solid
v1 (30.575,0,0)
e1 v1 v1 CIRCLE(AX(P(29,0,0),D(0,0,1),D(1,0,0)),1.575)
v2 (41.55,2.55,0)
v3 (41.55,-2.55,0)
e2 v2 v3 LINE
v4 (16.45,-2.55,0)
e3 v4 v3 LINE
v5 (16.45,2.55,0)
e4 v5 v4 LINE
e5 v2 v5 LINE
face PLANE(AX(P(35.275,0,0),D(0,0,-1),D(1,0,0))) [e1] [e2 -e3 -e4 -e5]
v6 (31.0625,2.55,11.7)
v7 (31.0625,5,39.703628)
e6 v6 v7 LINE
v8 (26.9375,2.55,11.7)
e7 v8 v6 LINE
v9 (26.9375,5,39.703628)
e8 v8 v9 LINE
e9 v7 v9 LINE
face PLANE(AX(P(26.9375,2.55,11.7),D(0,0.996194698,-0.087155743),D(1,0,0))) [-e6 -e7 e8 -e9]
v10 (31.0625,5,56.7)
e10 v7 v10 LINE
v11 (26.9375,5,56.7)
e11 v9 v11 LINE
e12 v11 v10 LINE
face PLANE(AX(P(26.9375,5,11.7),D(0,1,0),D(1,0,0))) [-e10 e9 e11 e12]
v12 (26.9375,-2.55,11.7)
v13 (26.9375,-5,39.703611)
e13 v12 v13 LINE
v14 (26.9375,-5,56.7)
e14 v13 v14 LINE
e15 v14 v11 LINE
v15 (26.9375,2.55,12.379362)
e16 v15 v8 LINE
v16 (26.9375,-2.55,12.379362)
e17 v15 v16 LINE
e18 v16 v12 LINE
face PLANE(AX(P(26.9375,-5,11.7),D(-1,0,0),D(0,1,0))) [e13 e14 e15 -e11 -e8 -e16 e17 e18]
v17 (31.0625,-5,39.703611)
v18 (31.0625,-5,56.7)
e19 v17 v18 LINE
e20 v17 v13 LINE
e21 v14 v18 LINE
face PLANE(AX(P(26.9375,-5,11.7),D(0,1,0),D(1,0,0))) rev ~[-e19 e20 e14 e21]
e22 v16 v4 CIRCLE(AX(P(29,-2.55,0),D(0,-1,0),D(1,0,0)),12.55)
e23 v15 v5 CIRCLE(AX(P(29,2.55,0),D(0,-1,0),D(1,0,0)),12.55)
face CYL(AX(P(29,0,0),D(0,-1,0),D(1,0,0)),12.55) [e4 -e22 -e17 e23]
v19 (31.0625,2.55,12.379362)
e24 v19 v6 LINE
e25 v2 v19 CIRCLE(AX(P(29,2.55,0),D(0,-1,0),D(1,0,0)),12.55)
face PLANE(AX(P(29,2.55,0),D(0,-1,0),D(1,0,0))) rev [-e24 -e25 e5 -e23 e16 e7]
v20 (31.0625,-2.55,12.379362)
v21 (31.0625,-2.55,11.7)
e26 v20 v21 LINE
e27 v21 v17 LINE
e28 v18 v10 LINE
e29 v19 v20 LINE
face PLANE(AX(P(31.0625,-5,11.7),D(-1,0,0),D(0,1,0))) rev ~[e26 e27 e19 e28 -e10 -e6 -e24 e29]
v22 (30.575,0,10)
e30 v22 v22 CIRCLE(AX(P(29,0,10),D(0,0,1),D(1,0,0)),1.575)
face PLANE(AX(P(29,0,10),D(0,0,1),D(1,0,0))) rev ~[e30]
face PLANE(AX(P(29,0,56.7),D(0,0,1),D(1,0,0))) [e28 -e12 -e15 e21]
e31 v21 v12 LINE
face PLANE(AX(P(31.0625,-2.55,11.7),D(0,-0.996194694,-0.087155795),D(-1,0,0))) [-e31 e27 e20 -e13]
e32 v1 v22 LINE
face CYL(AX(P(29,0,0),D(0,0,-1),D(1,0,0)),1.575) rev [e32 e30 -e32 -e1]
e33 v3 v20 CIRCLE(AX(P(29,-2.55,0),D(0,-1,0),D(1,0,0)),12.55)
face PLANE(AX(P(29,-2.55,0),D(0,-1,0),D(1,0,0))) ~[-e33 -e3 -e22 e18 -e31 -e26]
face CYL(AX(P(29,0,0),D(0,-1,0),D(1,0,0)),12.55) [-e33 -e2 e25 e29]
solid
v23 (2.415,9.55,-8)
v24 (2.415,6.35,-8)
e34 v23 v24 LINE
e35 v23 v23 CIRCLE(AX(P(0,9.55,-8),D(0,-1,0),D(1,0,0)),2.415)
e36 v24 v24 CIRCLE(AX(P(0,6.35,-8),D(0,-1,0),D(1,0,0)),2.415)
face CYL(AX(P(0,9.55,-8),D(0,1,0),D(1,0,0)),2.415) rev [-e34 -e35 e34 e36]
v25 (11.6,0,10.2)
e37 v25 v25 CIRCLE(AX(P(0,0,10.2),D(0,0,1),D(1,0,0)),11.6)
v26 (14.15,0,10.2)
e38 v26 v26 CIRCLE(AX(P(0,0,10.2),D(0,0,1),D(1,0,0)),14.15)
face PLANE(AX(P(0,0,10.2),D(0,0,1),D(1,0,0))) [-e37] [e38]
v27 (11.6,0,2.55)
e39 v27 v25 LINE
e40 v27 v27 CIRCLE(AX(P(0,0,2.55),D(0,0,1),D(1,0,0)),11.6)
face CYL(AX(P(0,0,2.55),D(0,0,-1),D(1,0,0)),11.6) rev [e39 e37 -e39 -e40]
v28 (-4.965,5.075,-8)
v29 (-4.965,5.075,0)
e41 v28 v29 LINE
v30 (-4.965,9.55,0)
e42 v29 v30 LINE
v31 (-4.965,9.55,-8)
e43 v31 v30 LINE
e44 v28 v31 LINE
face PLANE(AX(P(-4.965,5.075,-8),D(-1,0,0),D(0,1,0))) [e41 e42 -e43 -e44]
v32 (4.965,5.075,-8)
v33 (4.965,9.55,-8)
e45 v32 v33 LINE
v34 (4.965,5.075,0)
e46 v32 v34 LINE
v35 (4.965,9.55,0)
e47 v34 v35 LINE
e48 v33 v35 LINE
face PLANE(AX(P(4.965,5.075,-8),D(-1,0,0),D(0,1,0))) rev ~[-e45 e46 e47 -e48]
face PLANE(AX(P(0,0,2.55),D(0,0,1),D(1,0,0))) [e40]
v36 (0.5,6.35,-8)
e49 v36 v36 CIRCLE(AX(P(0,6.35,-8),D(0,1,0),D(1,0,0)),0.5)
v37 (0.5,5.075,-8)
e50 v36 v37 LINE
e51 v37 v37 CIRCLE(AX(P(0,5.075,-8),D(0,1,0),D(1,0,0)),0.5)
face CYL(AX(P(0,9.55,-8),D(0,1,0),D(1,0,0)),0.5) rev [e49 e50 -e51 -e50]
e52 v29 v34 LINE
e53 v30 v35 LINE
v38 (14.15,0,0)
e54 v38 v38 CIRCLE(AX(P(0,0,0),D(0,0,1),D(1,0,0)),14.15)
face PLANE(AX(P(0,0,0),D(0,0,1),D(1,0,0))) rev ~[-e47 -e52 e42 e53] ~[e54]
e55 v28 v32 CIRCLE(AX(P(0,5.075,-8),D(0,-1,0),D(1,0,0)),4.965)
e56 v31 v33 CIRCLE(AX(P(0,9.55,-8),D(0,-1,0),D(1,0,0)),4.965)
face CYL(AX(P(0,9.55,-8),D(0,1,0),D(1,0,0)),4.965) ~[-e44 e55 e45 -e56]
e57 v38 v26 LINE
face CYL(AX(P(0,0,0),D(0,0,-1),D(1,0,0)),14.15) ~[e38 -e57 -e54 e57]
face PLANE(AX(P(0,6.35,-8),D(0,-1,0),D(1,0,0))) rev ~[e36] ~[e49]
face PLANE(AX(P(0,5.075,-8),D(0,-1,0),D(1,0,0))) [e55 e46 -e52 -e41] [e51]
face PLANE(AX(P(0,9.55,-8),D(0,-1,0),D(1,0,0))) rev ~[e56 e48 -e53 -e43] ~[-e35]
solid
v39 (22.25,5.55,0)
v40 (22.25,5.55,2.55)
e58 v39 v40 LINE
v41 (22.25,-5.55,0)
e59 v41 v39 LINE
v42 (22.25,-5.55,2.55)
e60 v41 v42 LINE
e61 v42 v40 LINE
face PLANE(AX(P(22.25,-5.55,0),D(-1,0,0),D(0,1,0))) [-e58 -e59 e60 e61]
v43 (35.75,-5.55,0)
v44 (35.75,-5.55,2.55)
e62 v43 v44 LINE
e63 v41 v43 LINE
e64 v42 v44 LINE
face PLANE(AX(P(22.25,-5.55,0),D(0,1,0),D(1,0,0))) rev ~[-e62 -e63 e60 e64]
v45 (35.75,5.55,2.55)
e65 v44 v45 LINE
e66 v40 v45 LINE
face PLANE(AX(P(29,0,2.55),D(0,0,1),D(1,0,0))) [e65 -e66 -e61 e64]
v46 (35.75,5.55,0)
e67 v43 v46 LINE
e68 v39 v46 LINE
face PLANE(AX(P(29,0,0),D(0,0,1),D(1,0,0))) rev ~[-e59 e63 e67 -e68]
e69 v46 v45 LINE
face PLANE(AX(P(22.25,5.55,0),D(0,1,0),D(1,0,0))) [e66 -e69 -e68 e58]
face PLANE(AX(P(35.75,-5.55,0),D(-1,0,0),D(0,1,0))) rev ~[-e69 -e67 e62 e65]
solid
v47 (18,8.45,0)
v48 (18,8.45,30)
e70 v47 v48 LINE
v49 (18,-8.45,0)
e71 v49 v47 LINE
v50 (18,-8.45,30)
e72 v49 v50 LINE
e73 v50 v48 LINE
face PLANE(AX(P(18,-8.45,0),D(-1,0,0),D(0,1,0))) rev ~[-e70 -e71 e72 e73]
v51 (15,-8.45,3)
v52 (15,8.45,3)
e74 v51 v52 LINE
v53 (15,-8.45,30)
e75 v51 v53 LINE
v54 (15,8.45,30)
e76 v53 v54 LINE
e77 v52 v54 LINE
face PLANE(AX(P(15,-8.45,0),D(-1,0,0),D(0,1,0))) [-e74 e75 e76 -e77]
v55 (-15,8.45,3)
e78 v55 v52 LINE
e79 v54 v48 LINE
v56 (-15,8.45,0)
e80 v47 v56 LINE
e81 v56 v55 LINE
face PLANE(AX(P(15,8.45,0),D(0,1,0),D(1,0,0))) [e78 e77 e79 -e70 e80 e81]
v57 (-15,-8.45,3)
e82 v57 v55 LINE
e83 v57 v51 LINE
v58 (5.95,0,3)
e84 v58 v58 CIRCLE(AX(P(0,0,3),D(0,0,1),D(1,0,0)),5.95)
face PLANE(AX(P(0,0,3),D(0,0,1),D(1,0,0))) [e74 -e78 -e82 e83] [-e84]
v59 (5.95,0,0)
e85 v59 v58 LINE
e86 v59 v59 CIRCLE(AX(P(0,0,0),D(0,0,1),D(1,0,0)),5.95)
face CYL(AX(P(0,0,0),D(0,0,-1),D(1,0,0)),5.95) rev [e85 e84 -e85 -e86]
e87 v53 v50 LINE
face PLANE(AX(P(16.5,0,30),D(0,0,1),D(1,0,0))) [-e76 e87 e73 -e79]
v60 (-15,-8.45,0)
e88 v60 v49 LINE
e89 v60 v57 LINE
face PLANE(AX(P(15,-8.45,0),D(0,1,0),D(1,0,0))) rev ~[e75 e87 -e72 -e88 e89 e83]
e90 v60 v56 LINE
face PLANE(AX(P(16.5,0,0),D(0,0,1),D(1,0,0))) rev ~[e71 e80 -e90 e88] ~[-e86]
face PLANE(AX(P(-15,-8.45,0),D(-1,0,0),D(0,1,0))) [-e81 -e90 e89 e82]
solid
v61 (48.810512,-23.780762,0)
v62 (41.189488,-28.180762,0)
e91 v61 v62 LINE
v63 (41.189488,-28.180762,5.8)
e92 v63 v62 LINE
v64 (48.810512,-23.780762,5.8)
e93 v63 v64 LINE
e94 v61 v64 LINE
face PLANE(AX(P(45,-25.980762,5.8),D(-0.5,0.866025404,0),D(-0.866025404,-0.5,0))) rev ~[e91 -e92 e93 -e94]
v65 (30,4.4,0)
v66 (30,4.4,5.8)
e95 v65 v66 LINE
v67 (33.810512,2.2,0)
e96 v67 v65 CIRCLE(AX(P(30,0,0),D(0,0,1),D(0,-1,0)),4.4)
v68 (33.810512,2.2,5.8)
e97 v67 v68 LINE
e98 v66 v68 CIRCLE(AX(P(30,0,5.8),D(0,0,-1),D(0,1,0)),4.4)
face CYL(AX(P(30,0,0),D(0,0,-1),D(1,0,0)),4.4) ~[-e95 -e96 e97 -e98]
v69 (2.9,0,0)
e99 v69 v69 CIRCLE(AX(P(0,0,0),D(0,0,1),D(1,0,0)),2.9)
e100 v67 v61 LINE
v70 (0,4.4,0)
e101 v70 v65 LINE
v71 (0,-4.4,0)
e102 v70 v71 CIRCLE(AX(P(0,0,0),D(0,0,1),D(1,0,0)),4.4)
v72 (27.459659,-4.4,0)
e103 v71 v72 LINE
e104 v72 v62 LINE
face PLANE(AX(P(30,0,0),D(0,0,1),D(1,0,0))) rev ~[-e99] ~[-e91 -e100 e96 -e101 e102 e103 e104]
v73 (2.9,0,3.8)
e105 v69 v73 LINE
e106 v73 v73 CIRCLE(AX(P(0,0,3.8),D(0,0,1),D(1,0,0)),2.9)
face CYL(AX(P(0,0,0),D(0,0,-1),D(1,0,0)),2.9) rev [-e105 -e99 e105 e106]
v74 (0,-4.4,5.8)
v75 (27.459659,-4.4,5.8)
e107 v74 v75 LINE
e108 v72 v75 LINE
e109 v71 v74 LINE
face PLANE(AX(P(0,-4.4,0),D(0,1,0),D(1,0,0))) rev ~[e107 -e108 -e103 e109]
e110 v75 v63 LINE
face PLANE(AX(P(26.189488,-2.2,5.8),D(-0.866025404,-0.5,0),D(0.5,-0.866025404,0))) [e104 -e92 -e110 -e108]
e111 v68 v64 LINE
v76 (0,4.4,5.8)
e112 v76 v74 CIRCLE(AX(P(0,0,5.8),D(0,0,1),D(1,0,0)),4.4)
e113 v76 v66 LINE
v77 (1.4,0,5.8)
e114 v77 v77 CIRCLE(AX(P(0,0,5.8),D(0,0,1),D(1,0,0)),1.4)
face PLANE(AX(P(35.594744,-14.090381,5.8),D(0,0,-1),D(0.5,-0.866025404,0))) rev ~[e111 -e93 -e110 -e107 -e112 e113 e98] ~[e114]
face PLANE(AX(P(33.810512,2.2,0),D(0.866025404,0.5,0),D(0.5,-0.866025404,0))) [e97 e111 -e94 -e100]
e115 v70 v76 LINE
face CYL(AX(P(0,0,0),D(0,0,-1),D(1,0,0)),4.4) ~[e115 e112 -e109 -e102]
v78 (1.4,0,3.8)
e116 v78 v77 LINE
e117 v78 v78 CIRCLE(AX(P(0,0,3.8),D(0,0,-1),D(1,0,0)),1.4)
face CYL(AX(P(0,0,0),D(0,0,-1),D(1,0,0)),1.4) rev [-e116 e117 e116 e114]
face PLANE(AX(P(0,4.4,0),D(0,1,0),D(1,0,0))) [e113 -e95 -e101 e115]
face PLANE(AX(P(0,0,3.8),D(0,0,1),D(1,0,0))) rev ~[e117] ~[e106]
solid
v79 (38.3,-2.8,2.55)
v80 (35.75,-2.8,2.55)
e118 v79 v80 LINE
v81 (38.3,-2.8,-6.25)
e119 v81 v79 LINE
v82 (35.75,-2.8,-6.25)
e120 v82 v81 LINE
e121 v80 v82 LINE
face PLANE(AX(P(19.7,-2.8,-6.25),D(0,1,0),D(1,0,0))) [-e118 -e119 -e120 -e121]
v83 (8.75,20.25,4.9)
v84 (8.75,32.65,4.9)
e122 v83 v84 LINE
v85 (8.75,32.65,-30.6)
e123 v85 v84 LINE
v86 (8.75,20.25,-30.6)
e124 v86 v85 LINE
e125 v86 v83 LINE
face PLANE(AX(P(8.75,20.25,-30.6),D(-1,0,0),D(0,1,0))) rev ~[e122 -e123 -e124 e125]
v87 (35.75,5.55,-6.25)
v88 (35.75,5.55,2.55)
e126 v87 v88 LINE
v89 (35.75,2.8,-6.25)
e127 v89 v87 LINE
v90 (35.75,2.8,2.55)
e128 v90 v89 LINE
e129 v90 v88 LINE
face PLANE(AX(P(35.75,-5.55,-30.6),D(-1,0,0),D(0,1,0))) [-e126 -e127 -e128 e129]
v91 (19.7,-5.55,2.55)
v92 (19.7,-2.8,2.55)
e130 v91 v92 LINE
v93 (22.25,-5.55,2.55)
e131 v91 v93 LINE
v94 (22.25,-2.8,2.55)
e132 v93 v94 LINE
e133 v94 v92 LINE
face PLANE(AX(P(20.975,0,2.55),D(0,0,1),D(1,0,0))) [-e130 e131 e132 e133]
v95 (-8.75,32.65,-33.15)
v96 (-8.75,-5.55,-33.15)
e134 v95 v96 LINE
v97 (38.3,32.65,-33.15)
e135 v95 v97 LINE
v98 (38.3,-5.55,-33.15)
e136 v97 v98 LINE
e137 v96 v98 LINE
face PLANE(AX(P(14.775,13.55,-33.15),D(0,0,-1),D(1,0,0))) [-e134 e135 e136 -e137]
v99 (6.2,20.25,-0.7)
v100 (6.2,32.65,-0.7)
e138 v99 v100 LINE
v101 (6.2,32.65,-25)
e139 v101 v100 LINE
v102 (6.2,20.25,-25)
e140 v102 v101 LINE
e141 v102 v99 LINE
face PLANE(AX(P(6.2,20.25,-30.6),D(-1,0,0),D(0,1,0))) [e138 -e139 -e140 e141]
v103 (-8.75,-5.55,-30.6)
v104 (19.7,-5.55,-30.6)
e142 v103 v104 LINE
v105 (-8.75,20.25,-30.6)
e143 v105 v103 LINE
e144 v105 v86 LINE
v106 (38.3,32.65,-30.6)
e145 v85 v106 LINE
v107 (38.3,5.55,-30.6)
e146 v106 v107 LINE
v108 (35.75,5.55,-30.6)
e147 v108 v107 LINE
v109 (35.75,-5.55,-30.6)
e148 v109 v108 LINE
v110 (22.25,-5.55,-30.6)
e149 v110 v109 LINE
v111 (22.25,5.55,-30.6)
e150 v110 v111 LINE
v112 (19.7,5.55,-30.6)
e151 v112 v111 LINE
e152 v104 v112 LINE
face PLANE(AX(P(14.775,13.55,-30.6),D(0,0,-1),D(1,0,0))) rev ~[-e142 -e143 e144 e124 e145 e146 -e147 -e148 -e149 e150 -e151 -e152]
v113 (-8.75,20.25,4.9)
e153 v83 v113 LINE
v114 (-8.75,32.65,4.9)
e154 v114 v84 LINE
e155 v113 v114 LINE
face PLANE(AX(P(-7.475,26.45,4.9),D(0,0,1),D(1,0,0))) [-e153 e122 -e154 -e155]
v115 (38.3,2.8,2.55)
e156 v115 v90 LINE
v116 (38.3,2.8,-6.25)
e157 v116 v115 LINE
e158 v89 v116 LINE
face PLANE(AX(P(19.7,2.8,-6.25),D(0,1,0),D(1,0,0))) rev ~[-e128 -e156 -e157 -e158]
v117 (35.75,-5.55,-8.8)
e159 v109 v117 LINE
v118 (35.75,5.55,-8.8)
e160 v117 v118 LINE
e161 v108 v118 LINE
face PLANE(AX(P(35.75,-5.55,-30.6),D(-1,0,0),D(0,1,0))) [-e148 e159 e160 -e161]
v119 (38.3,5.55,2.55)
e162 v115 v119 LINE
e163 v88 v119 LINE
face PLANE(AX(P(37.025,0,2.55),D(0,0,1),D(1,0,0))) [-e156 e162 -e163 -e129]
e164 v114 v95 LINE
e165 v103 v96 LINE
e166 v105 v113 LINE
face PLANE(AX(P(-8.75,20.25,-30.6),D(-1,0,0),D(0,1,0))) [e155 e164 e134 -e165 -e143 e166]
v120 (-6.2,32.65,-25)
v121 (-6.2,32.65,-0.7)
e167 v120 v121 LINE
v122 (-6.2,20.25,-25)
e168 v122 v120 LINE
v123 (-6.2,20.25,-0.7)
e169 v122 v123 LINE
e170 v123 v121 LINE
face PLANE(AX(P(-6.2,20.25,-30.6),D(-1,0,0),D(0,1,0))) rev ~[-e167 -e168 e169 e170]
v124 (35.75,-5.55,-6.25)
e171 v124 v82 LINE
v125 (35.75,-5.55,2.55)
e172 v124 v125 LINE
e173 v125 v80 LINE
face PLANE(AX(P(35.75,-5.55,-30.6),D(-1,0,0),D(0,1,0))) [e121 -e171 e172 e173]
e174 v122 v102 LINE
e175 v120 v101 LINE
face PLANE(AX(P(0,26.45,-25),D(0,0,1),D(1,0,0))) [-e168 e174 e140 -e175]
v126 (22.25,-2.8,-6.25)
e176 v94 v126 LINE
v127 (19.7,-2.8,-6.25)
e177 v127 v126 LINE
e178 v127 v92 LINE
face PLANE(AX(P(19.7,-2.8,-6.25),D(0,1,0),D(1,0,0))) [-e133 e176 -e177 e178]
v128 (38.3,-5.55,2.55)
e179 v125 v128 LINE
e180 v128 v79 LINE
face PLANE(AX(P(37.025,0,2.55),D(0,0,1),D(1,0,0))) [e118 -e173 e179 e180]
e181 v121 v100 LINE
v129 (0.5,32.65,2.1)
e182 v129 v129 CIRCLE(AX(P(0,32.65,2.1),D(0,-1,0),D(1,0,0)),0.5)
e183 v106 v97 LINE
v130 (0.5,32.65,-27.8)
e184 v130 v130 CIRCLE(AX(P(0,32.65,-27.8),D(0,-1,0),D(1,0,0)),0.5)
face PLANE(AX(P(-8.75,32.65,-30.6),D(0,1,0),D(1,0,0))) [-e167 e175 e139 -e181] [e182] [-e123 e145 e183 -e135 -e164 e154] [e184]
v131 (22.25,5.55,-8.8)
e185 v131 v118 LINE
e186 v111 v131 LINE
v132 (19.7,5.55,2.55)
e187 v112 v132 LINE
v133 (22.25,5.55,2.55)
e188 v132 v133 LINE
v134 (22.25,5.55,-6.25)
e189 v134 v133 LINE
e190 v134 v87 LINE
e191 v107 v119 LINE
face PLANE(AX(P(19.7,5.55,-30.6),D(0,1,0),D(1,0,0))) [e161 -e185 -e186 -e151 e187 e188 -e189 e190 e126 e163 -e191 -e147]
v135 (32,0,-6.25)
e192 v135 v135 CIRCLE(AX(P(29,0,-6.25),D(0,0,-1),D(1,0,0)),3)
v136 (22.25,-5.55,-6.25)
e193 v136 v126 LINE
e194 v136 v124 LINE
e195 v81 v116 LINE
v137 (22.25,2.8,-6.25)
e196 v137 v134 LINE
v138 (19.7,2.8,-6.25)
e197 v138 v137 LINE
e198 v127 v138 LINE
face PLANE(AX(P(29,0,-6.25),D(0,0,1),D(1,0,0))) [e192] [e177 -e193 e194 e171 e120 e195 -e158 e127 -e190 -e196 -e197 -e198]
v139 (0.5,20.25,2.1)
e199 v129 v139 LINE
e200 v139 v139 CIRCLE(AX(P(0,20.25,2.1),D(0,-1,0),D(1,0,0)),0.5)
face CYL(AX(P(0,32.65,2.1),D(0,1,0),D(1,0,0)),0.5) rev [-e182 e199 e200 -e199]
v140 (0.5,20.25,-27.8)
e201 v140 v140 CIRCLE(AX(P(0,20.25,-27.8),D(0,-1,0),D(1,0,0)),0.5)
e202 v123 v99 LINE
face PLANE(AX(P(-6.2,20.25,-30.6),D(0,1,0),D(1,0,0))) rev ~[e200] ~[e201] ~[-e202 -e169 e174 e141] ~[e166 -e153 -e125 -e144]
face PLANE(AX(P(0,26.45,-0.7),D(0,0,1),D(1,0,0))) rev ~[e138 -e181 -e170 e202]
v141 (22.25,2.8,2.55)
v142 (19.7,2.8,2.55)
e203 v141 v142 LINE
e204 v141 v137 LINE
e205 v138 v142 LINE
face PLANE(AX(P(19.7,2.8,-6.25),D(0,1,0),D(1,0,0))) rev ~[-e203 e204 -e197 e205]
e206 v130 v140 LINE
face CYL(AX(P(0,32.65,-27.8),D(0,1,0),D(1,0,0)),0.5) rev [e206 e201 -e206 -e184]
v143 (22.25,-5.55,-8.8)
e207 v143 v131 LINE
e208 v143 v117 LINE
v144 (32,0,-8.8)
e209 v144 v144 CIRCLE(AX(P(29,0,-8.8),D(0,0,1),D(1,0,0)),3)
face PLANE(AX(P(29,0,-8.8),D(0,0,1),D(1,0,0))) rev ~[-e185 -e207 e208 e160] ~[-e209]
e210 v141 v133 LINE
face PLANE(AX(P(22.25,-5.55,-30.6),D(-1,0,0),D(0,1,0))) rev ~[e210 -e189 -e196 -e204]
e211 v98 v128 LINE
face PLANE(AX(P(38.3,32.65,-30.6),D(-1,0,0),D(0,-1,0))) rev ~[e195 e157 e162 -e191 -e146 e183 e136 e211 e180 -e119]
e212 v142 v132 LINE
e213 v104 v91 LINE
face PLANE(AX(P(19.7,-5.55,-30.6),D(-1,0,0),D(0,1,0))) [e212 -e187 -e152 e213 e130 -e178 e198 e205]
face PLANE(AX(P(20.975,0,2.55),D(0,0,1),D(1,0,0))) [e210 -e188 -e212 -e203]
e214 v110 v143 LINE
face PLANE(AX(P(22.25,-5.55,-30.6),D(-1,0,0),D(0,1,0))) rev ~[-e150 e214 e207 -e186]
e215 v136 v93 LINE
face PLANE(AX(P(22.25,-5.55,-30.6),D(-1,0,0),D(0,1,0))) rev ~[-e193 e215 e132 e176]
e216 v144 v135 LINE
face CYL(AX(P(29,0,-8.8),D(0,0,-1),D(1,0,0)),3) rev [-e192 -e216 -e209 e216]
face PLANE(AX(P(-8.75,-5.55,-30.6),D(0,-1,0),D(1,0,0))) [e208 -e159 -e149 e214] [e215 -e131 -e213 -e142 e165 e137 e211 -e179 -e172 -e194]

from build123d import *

# Parameters (mm, degrees)
CYLINDER_R                = 1.575
CYLINDER_DEPTH            = 10
CYLINDER001_W             = 12.55
CYLINDER001_H             = 5.1
CYLINDER001_ANGLE         = 180
BOX002_W                  = 4.125
BOX002_H                  = 10
BOX002_DEPTH              = 45
BOX002_ROLL_ANGLE         = -5.000003
BOX002_PLACEMENT_ANGLE    = 180
BOX001_W                  = 4.125
BOX001_H                  = 10
BOX001_DEPTH              = 45
BOX001_PLACEMENT_ANGLE    = 5
BOX_W                     = 4.125
BOX_H                     = 10
BOX_DEPTH                 = 45
CYLINDER006_R             = 0.5
CYLINDER006_DEPTH         = 8.95
CYLINDER004_R             = 2.415
CYLINDER004_DEPTH         = 3.2
CYLINDER002_R             = 11.6
CYLINDER002_DEPTH         = 7.65
BOX003_W                  = 9.93
BOX003_H                  = 4.475
BOX003_DEPTH              = 8
CYLINDER005_R             = 4.965
CYLINDER005_DEPTH         = 4.475
CYLINDER003_R             = 14.15
CYLINDER003_DEPTH         = 10.2
BOX012_W                  = 13.5
BOX012_H                  = 11.1
BOX012_DEPTH              = 2.55
CYLINDER007_R             = 0.5
CYLINDER007_DEPTH         = 12.4
CYLINDER008_R             = 0.5
CYLINDER008_DEPTH         = 12.4
CYLINDER009_R             = 3
CYLINDER009_DEPTH         = 7.65
BOX013_W                  = 18.6
BOX013_H                  = 5.6
BOX013_DEPTH              = 11.35
BOX010_W                  = 2.55
BOX010_H                  = 11.1
BOX010_DEPTH              = 33.15
BOX008_W                  = 13.5
BOX008_H                  = 11.1
BOX008_DEPTH              = 2.55
BOX009_W                  = 47.05
BOX009_H                  = 38.2
BOX009_DEPTH              = 2.55
BOX007_W                  = 12.4
BOX007_H                  = 12.4
BOX007_DEPTH              = 5.6
BOX006_W                  = 2.55
BOX006_H                  = 12.4
BOX006_DEPTH              = 35.5
BOX005_W                  = 2.55
BOX005_H                  = 12.4
BOX005_DEPTH              = 35.5
BOX004_W                  = 12.4
BOX004_H                  = 12.4
BOX004_DEPTH              = 5.6
BOX011_W                  = 2.55
BOX011_H                  = 11.1
BOX011_DEPTH              = 33.15
CYLINDER013_R             = 5.95
CYLINDER013_DEPTH         = 3
BOX016_W                  = 3
BOX016_H                  = 16.9
BOX016_DEPTH              = 30
BOX015_W                  = 30
BOX015_H                  = 16.9
BOX015_DEPTH              = 3
CYLINDER014_R             = 4.4
CYLINDER014_DEPTH         = 5.8
BOX018_W                  = 30
BOX018_H                  = 4.4
BOX018_DEPTH              = 5.8
BOX017_W                  = 30
BOX017_H                  = 4.4
BOX017_DEPTH              = 5.8
FUSION005_PLACEMENT_ANGLE = 300
CYLINDER010_R             = 2.9
CYLINDER010_DEPTH         = 3.8
CYLINDER012_R             = 1.4
CYLINDER012_DEPTH         = 5.8
CYLINDER011_R             = 4.4
CYLINDER011_DEPTH         = 5.8
BOX014_W                  = 30
BOX014_H                  = 8.8
BOX014_DEPTH              = 5.8


with BuildPart() as palancahueco:
    # Cylinder → Cylinder (new body)
    with BuildSketch(Plane.XY):
        Circle(CYLINDER_R)
    extrude(amount=CYLINDER_DEPTH)


with BuildPart() as palancacarril:
    # Cylinder001 → Cylinder001 (revolve)
    with BuildSketch(Plane(origin=(0, 2.55, 0), x_dir=(1, 0, 0), z_dir=(0, 0, -1))):
        with Locations((6.275, 2.55)):
            Rectangle(CYLINDER001_W, CYLINDER001_H)
    revolve(axis=Axis((0, 2.55, 0), (0, -1, 0)), revolution_arc=CYLINDER001_ANGLE)


with BuildPart() as palancapalaquita001:
    # Box002 → Box002 (new body)
    with BuildSketch(Plane.XY):
        with Locations((2.0625, 5)):
            Rectangle(BOX002_W, BOX002_H)
    extrude(amount=BOX002_DEPTH)


with BuildPart() as palancapalaquita001_1:
    # Box002 roll: moved
    add(palancapalaquita001.part.rotate(Axis((0, 0, 0), (1, 0, 0)), BOX002_ROLL_ANGLE))


with BuildPart() as palancapalaquita001_2:
    # Box002 placement: moved
    add(palancapalaquita001_1.part.moved(Location((2.0625, -2.55, 11.7))).rotate(Axis((2.0625, -2.55, 11.7), (0, 0, 1)), BOX002_PLACEMENT_ANGLE))


with BuildPart() as palancapalaquita:
    # Box001 → Box001 (new body)
    with BuildSketch(Plane.XY):
        with Locations((2.0625, 5)):
            Rectangle(BOX001_W, BOX001_H)
    extrude(amount=BOX001_DEPTH)


with BuildPart() as palancapalaquita_1:
    # Box001 placement: moved
    add(palancapalaquita.part.moved(Location((-2.0625, 2.55, 11.7))).rotate(Axis((-2.0625, 2.55, 11.7), (-1, 0, 0)), BOX001_PLACEMENT_ANGLE))


with BuildPart() as palanca:
    # Box → Box (new body)
    with BuildSketch(Plane(origin=(-2.0625, -5, 11.7), x_dir=(1, 0, 0), z_dir=(0, 0, 1))):
        with Locations((2.0625, 5)):
            Rectangle(BOX_W, BOX_H)
    extrude(amount=BOX_DEPTH)

    # Cut: cut PalancaPalaQuita
    add(palancapalaquita_1.part, mode=Mode.SUBTRACT)

    # Cut001: cut PalancaPalaQuita001
    add(palancapalaquita001_2.part, mode=Mode.SUBTRACT)

    # Fusion: union PalancaCarril
    add(palancacarril.part)

    # Cut002: cut PalancaHueco
    add(palancahueco.part, mode=Mode.SUBTRACT)


with BuildPart() as palanca_1:
    # Cut002 placement: moved
    add(palanca.part.moved(Location((29, 0, 0))))


with BuildPart() as taladrotornilloanillomotor:
    # Cylinder006 → Cylinder006 (new body)
    with BuildSketch(Plane(origin=(0, 9.55, -8), x_dir=(1, 0, 0), z_dir=(0, -1, 0))):
        Circle(CYLINDER006_R)
    extrude(amount=CYLINDER006_DEPTH)


with BuildPart() as motorinterior:
    # Cylinder004 → Cylinder004 (new body)
    with BuildSketch(Plane(origin=(0, 9.55, -8), x_dir=(1, 0, 0), z_dir=(0, -1, 0))):
        Circle(CYLINDER004_R)
    extrude(amount=CYLINDER004_DEPTH)


with BuildPart() as anillointerior:
    # Cylinder002 → Cylinder002 (new body)
    with BuildSketch(Plane.XY.offset(2.55)):
        Circle(CYLINDER002_R)
    extrude(amount=CYLINDER002_DEPTH)


with BuildPart() as radio:
    # Box003 → Box003 (new body)
    with BuildSketch(Plane(origin=(-4.965, 5.075, -8), x_dir=(1, 0, 0), z_dir=(0, 0, 1))):
        with Locations((4.965, 2.2375)):
            Rectangle(BOX003_W, BOX003_H)
    extrude(amount=BOX003_DEPTH)


with BuildPart() as motorexterior:
    # Cylinder005 → Cylinder005 (new body)
    with BuildSketch(Plane(origin=(0, 9.55, -8), x_dir=(1, 0, 0), z_dir=(0, -1, 0))):
        Circle(CYLINDER005_R)
    extrude(amount=CYLINDER005_DEPTH)


with BuildPart() as soportededo:
    # Cylinder003 → Cylinder003 (new body)
    with BuildSketch(Plane.XY):
        Circle(CYLINDER003_R)
    extrude(amount=CYLINDER003_DEPTH)

    # Fusion001: union Radio, MotorExterior
    add(radio.part)
    add(motorexterior.part)

    # Cut003: cut AnilloInterior
    add(anillointerior.part, mode=Mode.SUBTRACT)

    # Cut004: cut MotorInterior
    add(motorinterior.part, mode=Mode.SUBTRACT)

    # Cut005: cut TaladroTornilloAnilloMotor
    add(taladrotornilloanillomotor.part, mode=Mode.SUBTRACT)


with BuildPart() as baseswitch001:
    # Box012 → Box012 (new body)
    with BuildSketch(Plane(origin=(22.25, -5.55, 0), x_dir=(1, 0, 0), z_dir=(0, 0, 1))):
        with Locations((6.75, 5.55)):
            Rectangle(BOX012_W, BOX012_H)
    extrude(amount=BOX012_DEPTH)


with BuildPart() as taladroanclajeservo:
    # Cylinder007 → Cylinder007 (new body)
    with BuildSketch(Plane(origin=(0, 32.65, -27.8), x_dir=(1, 0, 0), z_dir=(0, -1, 0))):
        Circle(CYLINDER007_R)
    extrude(amount=CYLINDER007_DEPTH)


with BuildPart() as taladroanclajeservo001:
    # Cylinder008 → Cylinder008 (new body)
    with BuildSketch(Plane(origin=(0, 32.65, 2.1), x_dir=(1, 0, 0), z_dir=(0, -1, 0))):
        Circle(CYLINDER008_R)
    extrude(amount=CYLINDER008_DEPTH)


with BuildPart() as taladroswitch:
    # Cylinder009 → Cylinder009 (new body)
    with BuildSketch(Plane(origin=(29, 0, -8.8), x_dir=(1, 0, 0), z_dir=(0, 0, 1))):
        Circle(CYLINDER009_R)
    extrude(amount=CYLINDER009_DEPTH)


with BuildPart() as quitacarril:
    # Box013 → Box013 (new body)
    with BuildSketch(Plane(origin=(19.7, -2.8, -6.25), x_dir=(1, 0, 0), z_dir=(0, 0, 1))):
        with Locations((9.3, 2.8)):
            Rectangle(BOX013_W, BOX013_H)
    extrude(amount=BOX013_DEPTH)


with BuildPart() as ladocajaswitch:
    # Box010 → Box010 (new body)
    with BuildSketch(Plane(origin=(19.7, -5.55, -30.6), x_dir=(1, 0, 0), z_dir=(0, 0, 1))):
        with Locations((1.275, 5.55)):
            Rectangle(BOX010_W, BOX010_H)
    extrude(amount=BOX010_DEPTH)


with BuildPart() as baseswitch:
    # Box008 → Box008 (new body)
    with BuildSketch(Plane(origin=(22.25, -5.55, -8.8), x_dir=(1, 0, 0), z_dir=(0, 0, 1))):
        with Locations((6.75, 5.55)):
            Rectangle(BOX008_W, BOX008_H)
    extrude(amount=BOX008_DEPTH)


with BuildPart() as suelo:
    # Box009 → Box009 (new body)
    with BuildSketch(Plane(origin=(-8.75, 32.65, -30.6), x_dir=(1, 0, 0), z_dir=(0, 0, -1))):
        with Locations((23.525, 19.1)):
            Rectangle(BOX009_W, BOX009_H)
    extrude(amount=BOX009_DEPTH)


with BuildPart() as topservo:
    # Box007 → Box007 (new body)
    with BuildSketch(Plane(origin=(-6.2, 20.25, -0.7), x_dir=(1, 0, 0), z_dir=(0, 0, 1))):
        with Locations((6.2, 6.2)):
            Rectangle(BOX007_W, BOX007_H)
    extrude(amount=BOX007_DEPTH)


with BuildPart() as ladocajaservo001:
    # Box006 → Box006 (new body)
    with BuildSketch(Plane(origin=(6.2, 20.25, -30.6), x_dir=(1, 0, 0), z_dir=(0, 0, 1))):
        with Locations((1.275, 6.2)):
            Rectangle(BOX006_W, BOX006_H)
    extrude(amount=BOX006_DEPTH)


with BuildPart() as ladocajaservo:
    # Box005 → Box005 (new body)
    with BuildSketch(Plane(origin=(-8.75, 20.25, -30.6), x_dir=(1, 0, 0), z_dir=(0, 0, 1))):
        with Locations((1.275, 6.2)):
            Rectangle(BOX005_W, BOX005_H)
    extrude(amount=BOX005_DEPTH)


with BuildPart() as baseservo:
    # Box004 → Box004 (new body)
    with BuildSketch(Plane(origin=(-6.2, 20.25, -30.6), x_dir=(1, 0, 0), z_dir=(0, 0, 1))):
        with Locations((6.2, 6.2)):
            Rectangle(BOX004_W, BOX004_H)
    extrude(amount=BOX004_DEPTH)


with BuildPart() as soporteconjunto:
    # Box011 → Box011 (new body)
    with BuildSketch(Plane(origin=(35.75, -5.55, -30.6), x_dir=(1, 0, 0), z_dir=(0, 0, 1))):
        with Locations((1.275, 5.55)):
            Rectangle(BOX011_W, BOX011_H)
    extrude(amount=BOX011_DEPTH)

    # Fusion002: union LadoCajaSwitch, BaseSwitch, Suelo, TopServo, LadoCajaServo001, LadoCajaServo, BaseServo
    add(ladocajaswitch.part)
    add(baseswitch.part)
    add(suelo.part)
    add(topservo.part)
    add(ladocajaservo001.part)
    add(ladocajaservo.part)
    add(baseservo.part)

    # Cut006: cut QuitaCarril
    add(quitacarril.part, mode=Mode.SUBTRACT)

    # Cut007: cut TaladroSwitch
    add(taladroswitch.part, mode=Mode.SUBTRACT)

    # Cut008: cut TaladroAnclajeServo001
    add(taladroanclajeservo001.part, mode=Mode.SUBTRACT)

    # Cut009: cut TaladroAnclajeServo
    add(taladroanclajeservo.part, mode=Mode.SUBTRACT)


with BuildPart() as taladroswitchgordo:
    # Cylinder013 → Cylinder013 (new body)
    with BuildSketch(Plane.XY):
        Circle(CYLINDER013_R)
    extrude(amount=CYLINDER013_DEPTH)


with BuildPart() as basefrenteswitchgordo:
    # Box016 → Box016 (new body)
    with BuildSketch(Plane(origin=(15, -8.45, 0), x_dir=(1, 0, 0), z_dir=(0, 0, 1))):
        with Locations((1.5, 8.45)):
            Rectangle(BOX016_W, BOX016_H)
    extrude(amount=BOX016_DEPTH)


with BuildPart() as l_switchgordo:
    # Box015 → Box015 (new body)
    with BuildSketch(Plane(origin=(-15, -8.45, 0), x_dir=(1, 0, 0), z_dir=(0, 0, 1))):
        with Locations((15, 8.45)):
            Rectangle(BOX015_W, BOX015_H)
    extrude(amount=BOX015_DEPTH)

    # Fusion004: union BaseFrenteSwitchGordo
    add(basefrenteswitchgordo.part)

    # Cut012: cut TaladroSwitchGordo
    add(taladroswitchgordo.part, mode=Mode.SUBTRACT)


with BuildPart() as rotula:
    # Cylinder014 → Cylinder014 (new body)
    with BuildSketch(Plane(origin=(30, 0, 0), x_dir=(1, 0, 0), z_dir=(0, 0, 1))):
        Circle(CYLINDER014_R)
    extrude(amount=CYLINDER014_DEPTH)


with BuildPart() as medioradioflotante001:
    # Box018 → Box018 (new body)
    with BuildSketch(Plane(origin=(0, 0, 5.8), x_dir=(1, 0, 0), z_dir=(0, 0, -1))):
        with Locations((15, 2.2)):
            Rectangle(BOX018_W, BOX018_H)
    extrude(amount=BOX018_DEPTH)


with BuildPart() as radioflotante:
    # Box017 → Box017 (new body)
    with BuildSketch(Plane.XY):
        with Locations((15, 2.2)):
            Rectangle(BOX017_W, BOX017_H)
    extrude(amount=BOX017_DEPTH)

    # Fusion005: union MedioRadioFlotante001
    add(medioradioflotante001.part)


with BuildPart() as radioflotante_1:
    # Fusion005 placement: moved
    add(radioflotante.part.moved(Location((30, 0, 0))).rotate(Axis((30, 0, 0), (0, 0, 1)), FUSION005_PLACEMENT_ANGLE))


with BuildPart() as interiorservogrande:
    # Cylinder010 → Cylinder010 (new body)
    with BuildSketch(Plane.XY):
        Circle(CYLINDER010_R)
    extrude(amount=CYLINDER010_DEPTH)


with BuildPart() as taladroservogrande:
    # Cylinder012 → Cylinder012 (new body)
    with BuildSketch(Plane.XY):
        Circle(CYLINDER012_R)
    extrude(amount=CYLINDER012_DEPTH)


with BuildPart() as exteriorservogrande:
    # Cylinder011 → Cylinder011 (new body)
    with BuildSketch(Plane.XY):
        Circle(CYLINDER011_R)
    extrude(amount=CYLINDER011_DEPTH)


with BuildPart() as radiocurvo:
    # Box014 → Box014 (new body)
    with BuildSketch(Plane(origin=(0, -4.4, 0), x_dir=(1, 0, 0), z_dir=(0, 0, 1))):
        with Locations((15, 4.4)):
            Rectangle(BOX014_W, BOX014_H)
    extrude(amount=BOX014_DEPTH)

    # Fusion003: union ExteriorServoGrande
    add(exteriorservogrande.part)

    # Cut010: cut TaladroServoGrande
    add(taladroservogrande.part, mode=Mode.SUBTRACT)

    # Cut011: cut InteriorServoGrande
    add(interiorservogrande.part, mode=Mode.SUBTRACT)

    # Fusion006: union Rotula, RadioFlotante
    add(rotula.part)
    add(radioflotante_1.part)


solid = Compound([palanca_1.part, soportededo.part, baseswitch001.part, soporteconjunto.part, l_switchgordo.part, radiocurvo.part])
